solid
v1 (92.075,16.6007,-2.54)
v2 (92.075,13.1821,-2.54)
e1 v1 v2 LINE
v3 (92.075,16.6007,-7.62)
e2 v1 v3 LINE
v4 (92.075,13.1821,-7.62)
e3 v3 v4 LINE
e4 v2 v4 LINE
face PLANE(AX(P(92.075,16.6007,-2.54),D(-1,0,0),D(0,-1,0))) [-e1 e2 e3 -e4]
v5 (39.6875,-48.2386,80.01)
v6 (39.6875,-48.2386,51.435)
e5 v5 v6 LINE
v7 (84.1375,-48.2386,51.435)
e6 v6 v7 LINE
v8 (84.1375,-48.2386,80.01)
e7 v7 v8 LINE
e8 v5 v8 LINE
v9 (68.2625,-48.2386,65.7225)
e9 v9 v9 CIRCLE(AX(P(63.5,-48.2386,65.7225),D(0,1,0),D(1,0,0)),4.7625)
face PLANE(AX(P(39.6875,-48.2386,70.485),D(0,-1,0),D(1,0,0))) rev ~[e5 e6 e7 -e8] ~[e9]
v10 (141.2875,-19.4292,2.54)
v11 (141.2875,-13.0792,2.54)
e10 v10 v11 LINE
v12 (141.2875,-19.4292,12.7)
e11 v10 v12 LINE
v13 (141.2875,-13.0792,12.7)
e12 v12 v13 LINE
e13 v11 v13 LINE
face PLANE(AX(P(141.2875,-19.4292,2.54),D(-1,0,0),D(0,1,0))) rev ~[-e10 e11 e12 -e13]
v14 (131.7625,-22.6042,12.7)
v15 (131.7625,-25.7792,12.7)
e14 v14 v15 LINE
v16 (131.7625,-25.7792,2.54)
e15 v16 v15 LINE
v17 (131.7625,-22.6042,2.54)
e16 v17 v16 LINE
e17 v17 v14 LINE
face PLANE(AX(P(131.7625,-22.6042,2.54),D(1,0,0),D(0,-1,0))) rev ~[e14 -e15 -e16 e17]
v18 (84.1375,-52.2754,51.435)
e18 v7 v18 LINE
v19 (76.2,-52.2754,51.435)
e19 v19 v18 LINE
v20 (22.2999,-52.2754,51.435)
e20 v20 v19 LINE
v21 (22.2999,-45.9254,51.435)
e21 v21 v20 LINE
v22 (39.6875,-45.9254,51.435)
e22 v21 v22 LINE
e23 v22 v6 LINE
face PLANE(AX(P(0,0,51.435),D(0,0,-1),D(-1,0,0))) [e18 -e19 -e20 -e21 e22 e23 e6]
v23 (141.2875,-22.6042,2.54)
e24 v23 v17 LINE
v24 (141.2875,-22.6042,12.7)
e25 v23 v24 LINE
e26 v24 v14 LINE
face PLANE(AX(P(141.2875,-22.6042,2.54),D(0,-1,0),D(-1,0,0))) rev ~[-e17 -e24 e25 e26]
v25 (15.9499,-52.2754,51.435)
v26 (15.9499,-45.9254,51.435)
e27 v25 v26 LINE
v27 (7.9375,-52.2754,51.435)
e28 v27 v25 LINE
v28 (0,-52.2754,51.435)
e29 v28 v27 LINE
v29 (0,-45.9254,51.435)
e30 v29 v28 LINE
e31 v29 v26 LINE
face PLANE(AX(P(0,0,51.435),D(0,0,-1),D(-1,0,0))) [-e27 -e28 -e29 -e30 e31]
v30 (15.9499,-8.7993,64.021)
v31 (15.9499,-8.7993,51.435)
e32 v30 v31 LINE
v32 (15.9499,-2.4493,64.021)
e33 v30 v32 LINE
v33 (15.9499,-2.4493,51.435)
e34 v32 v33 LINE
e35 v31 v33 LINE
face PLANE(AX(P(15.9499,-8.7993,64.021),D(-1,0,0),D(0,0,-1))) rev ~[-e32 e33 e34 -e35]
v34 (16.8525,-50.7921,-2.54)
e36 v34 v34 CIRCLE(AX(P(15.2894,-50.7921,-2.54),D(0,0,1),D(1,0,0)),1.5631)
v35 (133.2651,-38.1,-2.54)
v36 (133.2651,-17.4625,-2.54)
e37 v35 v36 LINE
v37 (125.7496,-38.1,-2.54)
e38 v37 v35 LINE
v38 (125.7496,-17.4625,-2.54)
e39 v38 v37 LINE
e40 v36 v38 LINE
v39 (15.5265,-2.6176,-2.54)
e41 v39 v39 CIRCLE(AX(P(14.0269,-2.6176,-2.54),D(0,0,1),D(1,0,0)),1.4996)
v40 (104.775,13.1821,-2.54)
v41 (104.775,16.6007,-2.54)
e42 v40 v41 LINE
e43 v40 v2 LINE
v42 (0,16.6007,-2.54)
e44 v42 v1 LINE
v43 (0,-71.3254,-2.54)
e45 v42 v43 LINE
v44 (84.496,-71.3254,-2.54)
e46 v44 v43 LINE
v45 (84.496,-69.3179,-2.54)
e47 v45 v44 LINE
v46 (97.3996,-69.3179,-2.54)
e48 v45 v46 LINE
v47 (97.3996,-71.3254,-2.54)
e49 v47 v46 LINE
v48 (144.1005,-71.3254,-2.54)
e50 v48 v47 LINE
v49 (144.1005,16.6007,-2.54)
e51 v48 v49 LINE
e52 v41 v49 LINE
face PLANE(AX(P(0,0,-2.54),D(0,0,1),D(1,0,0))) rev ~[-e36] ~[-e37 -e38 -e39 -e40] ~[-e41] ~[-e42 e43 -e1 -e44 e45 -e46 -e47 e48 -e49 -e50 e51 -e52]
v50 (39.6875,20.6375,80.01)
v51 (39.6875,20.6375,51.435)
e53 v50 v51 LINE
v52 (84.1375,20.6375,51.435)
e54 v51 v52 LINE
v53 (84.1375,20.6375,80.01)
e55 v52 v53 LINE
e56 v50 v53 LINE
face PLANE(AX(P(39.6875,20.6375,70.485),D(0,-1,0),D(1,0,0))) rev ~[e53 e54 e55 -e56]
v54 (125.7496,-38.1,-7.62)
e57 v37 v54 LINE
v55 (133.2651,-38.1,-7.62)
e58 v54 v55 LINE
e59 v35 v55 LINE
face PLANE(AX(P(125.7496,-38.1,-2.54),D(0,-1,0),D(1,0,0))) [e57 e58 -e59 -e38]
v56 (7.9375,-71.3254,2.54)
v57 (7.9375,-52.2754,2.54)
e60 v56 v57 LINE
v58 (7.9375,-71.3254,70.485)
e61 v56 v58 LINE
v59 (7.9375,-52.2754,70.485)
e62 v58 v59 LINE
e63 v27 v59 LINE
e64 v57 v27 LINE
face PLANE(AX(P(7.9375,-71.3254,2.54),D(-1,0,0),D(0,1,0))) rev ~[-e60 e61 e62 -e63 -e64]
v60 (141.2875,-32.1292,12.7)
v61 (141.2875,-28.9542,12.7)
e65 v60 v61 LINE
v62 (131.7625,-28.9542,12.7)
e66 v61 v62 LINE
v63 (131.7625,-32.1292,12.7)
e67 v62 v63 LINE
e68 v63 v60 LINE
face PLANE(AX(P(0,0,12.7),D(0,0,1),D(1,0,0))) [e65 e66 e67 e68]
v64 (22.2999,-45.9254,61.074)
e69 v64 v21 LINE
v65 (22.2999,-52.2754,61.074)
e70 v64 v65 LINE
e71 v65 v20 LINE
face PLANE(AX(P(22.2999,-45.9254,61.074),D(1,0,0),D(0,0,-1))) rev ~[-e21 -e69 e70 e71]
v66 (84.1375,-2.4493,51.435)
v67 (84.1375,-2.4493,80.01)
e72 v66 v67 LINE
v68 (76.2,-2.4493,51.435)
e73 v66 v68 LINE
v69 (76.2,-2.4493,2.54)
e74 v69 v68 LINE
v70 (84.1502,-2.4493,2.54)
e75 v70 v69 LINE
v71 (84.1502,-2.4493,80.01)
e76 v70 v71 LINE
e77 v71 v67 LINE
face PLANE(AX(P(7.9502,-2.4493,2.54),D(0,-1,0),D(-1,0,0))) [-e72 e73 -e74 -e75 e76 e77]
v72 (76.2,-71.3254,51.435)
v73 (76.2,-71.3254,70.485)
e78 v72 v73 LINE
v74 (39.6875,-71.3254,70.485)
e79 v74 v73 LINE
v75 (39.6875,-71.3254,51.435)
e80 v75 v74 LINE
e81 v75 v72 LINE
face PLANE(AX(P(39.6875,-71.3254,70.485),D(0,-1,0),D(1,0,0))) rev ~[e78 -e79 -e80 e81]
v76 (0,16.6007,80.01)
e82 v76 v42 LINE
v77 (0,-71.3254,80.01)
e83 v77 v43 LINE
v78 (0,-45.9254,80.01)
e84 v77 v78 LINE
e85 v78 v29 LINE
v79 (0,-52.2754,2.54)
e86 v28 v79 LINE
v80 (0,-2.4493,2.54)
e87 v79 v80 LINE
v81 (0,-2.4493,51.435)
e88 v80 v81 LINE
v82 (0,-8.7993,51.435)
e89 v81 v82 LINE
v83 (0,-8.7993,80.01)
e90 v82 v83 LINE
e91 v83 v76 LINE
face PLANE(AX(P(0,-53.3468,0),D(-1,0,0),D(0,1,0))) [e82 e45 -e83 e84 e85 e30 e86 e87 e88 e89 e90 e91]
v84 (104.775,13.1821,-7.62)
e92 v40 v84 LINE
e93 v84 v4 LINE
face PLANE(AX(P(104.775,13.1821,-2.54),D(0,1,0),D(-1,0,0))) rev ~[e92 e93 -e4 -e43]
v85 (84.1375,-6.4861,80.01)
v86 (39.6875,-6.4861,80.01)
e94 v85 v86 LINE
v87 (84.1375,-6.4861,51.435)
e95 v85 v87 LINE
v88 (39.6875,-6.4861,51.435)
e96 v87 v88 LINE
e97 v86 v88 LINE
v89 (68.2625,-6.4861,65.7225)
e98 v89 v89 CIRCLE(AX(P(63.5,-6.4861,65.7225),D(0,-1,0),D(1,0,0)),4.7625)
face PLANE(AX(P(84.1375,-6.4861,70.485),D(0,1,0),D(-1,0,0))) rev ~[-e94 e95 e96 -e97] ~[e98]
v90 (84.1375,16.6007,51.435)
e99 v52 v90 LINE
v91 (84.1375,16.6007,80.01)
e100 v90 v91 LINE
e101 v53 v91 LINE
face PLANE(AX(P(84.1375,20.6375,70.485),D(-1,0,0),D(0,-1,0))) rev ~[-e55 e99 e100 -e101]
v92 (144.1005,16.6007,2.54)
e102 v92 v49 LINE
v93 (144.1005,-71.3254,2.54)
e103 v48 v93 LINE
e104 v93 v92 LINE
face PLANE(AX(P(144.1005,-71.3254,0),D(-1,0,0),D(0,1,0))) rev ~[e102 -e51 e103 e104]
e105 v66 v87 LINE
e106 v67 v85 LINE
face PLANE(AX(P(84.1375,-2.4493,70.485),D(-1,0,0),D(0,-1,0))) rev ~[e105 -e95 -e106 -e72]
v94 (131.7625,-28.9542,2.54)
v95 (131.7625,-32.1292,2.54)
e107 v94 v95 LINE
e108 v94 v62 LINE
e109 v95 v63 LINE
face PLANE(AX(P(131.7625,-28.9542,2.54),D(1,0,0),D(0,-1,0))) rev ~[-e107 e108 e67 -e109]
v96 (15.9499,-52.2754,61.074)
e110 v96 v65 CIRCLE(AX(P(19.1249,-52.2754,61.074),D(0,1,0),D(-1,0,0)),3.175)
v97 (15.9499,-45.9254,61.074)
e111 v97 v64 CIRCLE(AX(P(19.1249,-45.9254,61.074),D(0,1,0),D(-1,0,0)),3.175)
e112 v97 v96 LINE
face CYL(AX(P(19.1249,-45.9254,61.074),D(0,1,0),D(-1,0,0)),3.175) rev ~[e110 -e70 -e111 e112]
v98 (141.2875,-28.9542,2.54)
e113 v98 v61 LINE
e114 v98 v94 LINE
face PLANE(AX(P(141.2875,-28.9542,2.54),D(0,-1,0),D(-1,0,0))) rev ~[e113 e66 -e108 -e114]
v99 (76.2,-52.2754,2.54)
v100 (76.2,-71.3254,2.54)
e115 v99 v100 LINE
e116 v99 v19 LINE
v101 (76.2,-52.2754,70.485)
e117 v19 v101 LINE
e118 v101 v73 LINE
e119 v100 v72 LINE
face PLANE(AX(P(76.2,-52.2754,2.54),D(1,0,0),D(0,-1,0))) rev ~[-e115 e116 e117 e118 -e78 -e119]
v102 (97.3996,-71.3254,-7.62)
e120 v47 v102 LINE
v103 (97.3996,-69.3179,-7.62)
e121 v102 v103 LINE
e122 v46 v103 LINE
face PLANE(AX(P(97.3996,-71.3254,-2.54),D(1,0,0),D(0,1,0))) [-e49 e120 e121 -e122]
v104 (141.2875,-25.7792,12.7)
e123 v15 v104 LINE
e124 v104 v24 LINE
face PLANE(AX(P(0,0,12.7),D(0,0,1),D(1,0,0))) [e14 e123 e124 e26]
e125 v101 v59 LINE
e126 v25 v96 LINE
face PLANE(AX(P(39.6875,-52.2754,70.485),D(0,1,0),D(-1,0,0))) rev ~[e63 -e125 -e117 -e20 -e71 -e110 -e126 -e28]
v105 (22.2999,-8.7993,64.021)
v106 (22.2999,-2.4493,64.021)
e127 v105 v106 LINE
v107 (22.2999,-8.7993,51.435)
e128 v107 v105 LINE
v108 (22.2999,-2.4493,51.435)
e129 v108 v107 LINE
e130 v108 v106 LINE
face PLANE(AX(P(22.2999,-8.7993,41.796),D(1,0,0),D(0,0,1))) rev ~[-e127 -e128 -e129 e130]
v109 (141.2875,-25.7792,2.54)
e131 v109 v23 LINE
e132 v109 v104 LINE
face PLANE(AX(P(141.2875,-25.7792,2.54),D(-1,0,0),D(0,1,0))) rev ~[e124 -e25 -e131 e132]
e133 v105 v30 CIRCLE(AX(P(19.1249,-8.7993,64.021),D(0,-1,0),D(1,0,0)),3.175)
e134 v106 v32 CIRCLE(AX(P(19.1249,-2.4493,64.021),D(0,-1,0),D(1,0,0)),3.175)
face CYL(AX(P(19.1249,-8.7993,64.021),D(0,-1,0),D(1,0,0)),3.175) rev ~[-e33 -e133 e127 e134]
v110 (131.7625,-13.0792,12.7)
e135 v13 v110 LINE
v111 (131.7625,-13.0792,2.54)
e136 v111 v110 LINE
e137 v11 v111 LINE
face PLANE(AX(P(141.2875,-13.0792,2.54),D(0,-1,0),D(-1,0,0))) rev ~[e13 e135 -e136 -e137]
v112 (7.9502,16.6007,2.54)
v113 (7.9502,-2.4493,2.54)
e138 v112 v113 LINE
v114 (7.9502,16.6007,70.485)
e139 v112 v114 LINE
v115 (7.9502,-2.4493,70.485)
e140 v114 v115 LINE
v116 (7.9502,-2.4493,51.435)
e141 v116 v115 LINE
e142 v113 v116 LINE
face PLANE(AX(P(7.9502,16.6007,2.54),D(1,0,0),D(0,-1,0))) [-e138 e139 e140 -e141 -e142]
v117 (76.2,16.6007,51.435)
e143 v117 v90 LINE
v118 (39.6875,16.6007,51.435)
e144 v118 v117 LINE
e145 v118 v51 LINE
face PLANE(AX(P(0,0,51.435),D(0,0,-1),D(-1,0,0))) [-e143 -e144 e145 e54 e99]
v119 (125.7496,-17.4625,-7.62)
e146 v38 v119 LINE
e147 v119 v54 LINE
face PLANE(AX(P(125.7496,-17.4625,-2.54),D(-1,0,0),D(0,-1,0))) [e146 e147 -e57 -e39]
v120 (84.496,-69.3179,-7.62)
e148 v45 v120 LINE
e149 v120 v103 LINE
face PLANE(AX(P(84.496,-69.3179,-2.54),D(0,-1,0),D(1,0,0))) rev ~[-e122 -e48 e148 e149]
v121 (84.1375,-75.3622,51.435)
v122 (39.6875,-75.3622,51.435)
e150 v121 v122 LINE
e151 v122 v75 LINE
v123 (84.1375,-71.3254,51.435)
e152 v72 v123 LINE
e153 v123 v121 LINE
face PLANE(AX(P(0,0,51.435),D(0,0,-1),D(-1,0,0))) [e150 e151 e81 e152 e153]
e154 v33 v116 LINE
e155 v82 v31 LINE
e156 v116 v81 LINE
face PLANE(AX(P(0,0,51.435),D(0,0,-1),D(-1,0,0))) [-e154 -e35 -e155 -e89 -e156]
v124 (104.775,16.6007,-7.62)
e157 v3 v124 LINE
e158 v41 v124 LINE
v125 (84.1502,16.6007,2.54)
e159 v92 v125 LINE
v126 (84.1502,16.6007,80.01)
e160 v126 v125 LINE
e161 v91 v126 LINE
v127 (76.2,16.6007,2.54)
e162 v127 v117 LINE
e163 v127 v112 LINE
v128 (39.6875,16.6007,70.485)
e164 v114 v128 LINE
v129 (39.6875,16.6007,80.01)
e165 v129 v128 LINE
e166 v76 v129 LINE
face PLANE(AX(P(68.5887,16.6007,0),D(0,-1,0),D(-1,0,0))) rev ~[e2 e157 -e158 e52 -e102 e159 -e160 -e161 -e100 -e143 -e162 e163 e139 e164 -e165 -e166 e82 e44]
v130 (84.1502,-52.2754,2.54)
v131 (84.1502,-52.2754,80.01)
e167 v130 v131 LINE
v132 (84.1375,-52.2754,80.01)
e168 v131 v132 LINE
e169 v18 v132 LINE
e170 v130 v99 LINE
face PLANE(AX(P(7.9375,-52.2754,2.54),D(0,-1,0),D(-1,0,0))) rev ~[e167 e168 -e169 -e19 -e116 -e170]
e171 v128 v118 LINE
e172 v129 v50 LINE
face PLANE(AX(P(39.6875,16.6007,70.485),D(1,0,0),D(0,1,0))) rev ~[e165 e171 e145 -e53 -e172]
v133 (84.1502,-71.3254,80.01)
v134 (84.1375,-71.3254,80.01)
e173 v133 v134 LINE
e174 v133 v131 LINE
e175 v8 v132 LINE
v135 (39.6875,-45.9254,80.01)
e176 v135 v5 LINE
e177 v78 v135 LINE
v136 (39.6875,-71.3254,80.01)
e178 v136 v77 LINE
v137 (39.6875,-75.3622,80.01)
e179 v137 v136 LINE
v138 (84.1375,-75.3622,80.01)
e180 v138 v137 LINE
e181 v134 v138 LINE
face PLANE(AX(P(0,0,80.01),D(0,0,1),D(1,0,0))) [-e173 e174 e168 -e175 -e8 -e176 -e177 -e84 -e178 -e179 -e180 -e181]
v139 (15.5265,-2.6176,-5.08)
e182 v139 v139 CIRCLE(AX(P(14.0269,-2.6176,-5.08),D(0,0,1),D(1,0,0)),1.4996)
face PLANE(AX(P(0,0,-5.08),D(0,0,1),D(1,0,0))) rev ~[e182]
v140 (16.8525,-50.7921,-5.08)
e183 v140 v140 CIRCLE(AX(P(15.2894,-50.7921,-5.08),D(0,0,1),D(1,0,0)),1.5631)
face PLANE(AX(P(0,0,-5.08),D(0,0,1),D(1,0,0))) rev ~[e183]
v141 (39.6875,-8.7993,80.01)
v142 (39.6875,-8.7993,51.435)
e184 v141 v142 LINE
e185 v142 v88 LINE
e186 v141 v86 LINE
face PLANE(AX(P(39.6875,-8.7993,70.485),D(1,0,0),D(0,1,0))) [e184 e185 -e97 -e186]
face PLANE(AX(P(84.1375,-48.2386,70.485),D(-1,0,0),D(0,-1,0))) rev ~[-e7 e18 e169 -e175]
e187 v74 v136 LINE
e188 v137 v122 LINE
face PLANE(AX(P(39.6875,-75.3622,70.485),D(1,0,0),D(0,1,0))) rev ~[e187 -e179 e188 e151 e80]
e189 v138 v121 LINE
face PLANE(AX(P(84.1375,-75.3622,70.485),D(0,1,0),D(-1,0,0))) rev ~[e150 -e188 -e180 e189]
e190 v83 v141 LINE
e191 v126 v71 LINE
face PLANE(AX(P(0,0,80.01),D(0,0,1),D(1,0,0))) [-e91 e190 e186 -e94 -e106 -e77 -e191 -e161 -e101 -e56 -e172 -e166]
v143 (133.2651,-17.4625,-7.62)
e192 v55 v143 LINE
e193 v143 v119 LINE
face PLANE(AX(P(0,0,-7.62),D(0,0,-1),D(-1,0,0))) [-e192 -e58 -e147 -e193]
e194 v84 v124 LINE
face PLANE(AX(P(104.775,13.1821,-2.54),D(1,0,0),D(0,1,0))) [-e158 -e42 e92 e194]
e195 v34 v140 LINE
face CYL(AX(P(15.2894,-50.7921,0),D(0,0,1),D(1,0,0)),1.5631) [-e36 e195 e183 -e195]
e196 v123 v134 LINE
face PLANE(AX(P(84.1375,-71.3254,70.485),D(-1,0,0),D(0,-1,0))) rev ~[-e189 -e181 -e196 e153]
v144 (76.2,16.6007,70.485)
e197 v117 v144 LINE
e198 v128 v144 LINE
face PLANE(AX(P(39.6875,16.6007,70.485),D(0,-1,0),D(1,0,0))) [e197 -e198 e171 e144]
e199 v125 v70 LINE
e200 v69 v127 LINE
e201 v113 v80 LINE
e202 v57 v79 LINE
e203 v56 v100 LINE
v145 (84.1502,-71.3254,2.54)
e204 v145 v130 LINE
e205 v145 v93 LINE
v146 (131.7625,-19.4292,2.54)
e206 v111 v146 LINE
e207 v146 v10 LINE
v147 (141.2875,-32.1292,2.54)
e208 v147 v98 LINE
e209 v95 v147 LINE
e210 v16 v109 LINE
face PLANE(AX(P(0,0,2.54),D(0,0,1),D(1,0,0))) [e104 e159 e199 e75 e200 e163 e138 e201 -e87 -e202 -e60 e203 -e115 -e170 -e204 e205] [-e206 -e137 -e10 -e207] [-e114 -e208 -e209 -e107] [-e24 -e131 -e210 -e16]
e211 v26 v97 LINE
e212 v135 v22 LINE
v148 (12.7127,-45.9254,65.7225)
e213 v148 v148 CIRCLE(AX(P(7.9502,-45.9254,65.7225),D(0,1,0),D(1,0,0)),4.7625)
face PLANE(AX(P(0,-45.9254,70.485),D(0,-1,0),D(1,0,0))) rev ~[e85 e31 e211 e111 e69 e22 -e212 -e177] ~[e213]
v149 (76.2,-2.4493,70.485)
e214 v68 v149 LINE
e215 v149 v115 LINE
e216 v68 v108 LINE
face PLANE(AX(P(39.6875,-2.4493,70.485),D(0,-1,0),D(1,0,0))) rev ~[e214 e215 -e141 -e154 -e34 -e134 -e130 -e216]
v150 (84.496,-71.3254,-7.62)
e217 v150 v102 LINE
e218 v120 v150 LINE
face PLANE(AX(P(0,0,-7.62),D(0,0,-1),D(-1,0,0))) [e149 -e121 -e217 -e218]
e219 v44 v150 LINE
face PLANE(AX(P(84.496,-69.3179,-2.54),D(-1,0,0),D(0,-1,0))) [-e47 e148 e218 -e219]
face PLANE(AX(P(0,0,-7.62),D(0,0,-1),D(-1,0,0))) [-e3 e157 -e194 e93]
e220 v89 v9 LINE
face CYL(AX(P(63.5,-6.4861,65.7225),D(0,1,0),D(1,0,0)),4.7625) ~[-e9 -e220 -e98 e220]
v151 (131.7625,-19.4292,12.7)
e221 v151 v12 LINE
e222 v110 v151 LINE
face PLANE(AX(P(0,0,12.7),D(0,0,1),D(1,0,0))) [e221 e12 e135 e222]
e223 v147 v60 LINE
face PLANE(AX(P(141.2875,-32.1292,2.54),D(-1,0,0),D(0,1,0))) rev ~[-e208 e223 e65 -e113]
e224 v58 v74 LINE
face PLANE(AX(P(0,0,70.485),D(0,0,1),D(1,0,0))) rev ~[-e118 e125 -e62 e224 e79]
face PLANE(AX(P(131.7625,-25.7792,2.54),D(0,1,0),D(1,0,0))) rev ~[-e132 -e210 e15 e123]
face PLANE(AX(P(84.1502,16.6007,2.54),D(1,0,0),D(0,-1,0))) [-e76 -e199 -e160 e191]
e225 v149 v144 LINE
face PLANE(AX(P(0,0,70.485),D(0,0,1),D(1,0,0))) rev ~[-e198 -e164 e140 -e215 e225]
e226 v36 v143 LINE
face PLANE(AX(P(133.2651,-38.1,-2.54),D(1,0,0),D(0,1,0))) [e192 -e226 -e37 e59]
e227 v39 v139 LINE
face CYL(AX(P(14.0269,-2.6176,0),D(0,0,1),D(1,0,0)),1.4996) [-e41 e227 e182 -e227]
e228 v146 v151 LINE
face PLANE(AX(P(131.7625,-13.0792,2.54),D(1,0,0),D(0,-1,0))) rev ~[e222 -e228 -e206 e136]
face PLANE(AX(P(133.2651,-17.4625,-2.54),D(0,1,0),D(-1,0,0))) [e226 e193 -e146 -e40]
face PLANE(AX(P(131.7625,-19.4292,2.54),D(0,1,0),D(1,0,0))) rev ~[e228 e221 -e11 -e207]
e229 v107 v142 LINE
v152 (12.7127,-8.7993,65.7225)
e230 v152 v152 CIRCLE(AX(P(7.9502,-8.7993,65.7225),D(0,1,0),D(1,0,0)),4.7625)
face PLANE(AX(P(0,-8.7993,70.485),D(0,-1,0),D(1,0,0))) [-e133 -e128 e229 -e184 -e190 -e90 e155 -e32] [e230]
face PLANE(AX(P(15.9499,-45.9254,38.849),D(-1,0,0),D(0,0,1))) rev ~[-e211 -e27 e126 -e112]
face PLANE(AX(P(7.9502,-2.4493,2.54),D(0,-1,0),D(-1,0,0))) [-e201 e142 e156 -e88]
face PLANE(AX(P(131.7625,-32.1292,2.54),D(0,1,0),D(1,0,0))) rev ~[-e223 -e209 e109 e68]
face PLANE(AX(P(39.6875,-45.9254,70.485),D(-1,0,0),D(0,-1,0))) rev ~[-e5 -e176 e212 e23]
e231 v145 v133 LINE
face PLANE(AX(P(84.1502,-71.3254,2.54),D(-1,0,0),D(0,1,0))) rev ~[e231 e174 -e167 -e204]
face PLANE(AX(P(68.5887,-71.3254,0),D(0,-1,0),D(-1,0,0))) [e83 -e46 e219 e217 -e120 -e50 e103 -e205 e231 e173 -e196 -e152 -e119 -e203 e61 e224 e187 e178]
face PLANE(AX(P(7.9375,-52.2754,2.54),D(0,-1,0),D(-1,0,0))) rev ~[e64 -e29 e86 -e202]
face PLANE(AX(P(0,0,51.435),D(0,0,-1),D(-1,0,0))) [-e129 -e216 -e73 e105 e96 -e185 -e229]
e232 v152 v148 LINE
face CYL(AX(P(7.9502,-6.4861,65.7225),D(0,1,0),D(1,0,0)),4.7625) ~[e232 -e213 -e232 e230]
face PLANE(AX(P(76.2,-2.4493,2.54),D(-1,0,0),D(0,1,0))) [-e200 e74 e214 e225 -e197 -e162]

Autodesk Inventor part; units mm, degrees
ref_plane "YZ Plane" through (0, 0, 0) normal (1, 0, 0) x (0, 1, 0)
ref_plane "XZ Plane" through (0, 0, 0) normal (0, 1, 0) x (-1, 0, 0)
ref_plane "XY Plane" through (0, 0, 0) normal (0, 0, 1) x (1, 0, 0)
sketch "Sketch1" plane through (0, 0, 0) normal (0, 0, 1) x (1, 0, 0)
  line L0 (0, -53.3468) -> (0, -11.9835) projected
  line L1 (68.5887, -53.3468) -> (0, -53.3468) projected
  line L2 (68.5887, 0) -> (68.5887, -53.3468) projected
  line L3 (0, 0) -> (68.5887, 0) projected
  line L4 (0, -2.1686) -> (0, 0) projected
  line L5 (0, -11.9835) -> (0, -2.1686) projected
  circle A0 centre (15.2894, -50.7921) radius 1.5631 projected
  circle A1 centre (14.0269, -2.6176) radius 1.4996 projected
  line L6 (0, 0) -> (68.5887, 0)
  line L7 (68.5887, 0) -> (68.5887, -53.3468)
  line L8 (68.5887, -53.3468) -> (0, -53.3468)
  line L9 (0, -53.3468) -> (0, 0)
  circle A2 centre (14.0269, -2.6176) radius 1.4996
  circle A3 centre (15.2894, -50.7921) radius 1.5631
extrude "Extrusion1" add sketch "Sketch1" against normal blind 5.08 contours A0 | A1
ref_plane "Work Plane1" through (0, 0, 0) normal (0, 0, 1) x (1, 0, 0)
sketch "Sketch2" plane through (0, 0, 0) normal (0, 0, 1) x (1, 0, 0)
  line L0 (0, -53.3468) -> (0, -11.9835) projected
  line L1 (68.5887, 0) -> (68.5887, -53.3468) projected
  line L2 (0, -2.1686) -> (0, 0) projected
  line L3 (0, 0) -> (0, -53.3468)
  line L4 (68.5887, -53.3468) -> (68.5887, 0)
  line L5 (68.5887, -71.3254) -> (144.1005, -71.3254)
  line L6 (144.1005, -71.3254) -> (144.1005, 16.6007)
  line L7 (144.1005, 16.6007) -> (68.5887, 16.6007)
  line L8 (68.5887, 16.6007) -> (68.5887, -71.3254)
  line L9 (68.5887, 16.6007) -> (0, 16.6007)
  line L10 (0, 16.6007) -> (0, 0)
  line L11 (68.5887, -71.3254) -> (0, -71.3254)
  line L12 (0, -71.3254) -> (0, -53.3468)
extrude "Extrusion2" add sketch "Sketch2" along normal mid plane 5.08
sketch "Sketch3" plane through (0, 0, -2.54) normal (0, 0, -1) x (-1, 0, 0)
  line L0 (-125.7496, -4.4471) -> (-125.7496, -55.0115) projected
  line L1 (0, -71.3254) -> (-144.1005, -71.3254) projected
  line L2 (-125.7496, -38.1) -> (-133.2651, -38.1)
  line L3 (-133.2651, -38.1) -> (-133.2651, -17.4625)
  line L4 (-133.2651, -17.4625) -> (-125.7496, -17.4625)
  line L5 (-125.7496, -17.4625) -> (-125.7496, -38.1)
  line L6 (-125.7462, 13.1821) -> (-71.1251, 13.1821)
  line L7 (0, 16.6007) -> (-144.1005, 16.6007) projected
  line L8 (-92.075, 13.1821) -> (-104.775, 13.1821)
  line L9 (-104.775, 13.1821) -> (-104.775, 16.6007)
  line L10 (-104.775, 16.6007) -> (-92.075, 16.6007)
  line L11 (-92.075, 16.6007) -> (-92.075, 13.1821)
  line L12 (-80.6496, -69.3179) -> (-97.3996, -69.3179)
  line L13 (-144.1005, -71.3254) -> (0, -71.3254) projected
  line L14 (-97.3996, -69.3179) -> (-84.496, -69.3179)
  line L15 (-84.496, -69.3179) -> (-84.496, -71.3254)
  line L16 (-84.496, -71.3254) -> (-97.3996, -71.3254)
  line L17 (-97.3996, -71.3254) -> (-97.3996, -69.3179)
  point P0 (0, 0)
  point P1 (-68.5887, -71.3254)
  point P2 (-68.5887, 16.6007)
extrude "Extrusion3" add sketch "Sketch3" along normal blind 5.08
sketch "Sketch9" plane through (0, 0, 2.54) normal (0, 0, 1) x (1, 0, 0)
  line L0 (0, -71.3254) -> (7.9375, -71.3254)
  line L1 (7.9375, -71.3254) -> (7.9375, -52.2754)
  line L2 (7.9375, -52.2754) -> (0, -52.2754)
  line L3 (0, -52.2754) -> (0, -71.3254)
  line L4 (0, 16.6007) -> (7.9502, 16.6007)
  line L5 (7.9502, 16.6007) -> (7.9502, -2.4493)
  line L6 (7.9502, -2.4493) -> (0, -2.4493)
  line L7 (0, -2.4493) -> (0, 16.6007)
  line L8 (76.2, -71.3254) -> (84.1502, -71.3254)
  line L9 (84.1502, -71.3254) -> (84.1502, -52.2754)
  line L10 (84.1502, -52.2754) -> (76.2, -52.2754)
  line L11 (76.2, -52.2754) -> (76.2, -71.3254)
  line L12 (76.2, 16.6007) -> (84.1502, 16.6007)
  line L13 (84.1502, 16.6007) -> (84.1502, -2.4493)
  line L14 (84.1502, -2.4493) -> (76.2, -2.4493)
  line L15 (76.2, -2.4493) -> (76.2, 16.6007)
  line L16 (144.1005, 16.6007) -> (0, 16.6007) projected
  line L17 (0, -71.3254) -> (144.1005, -71.3254) projected
  point P0 (0, 0)
  dimension "d19" = 7.9502
  dimension "d20" = 19.05
  dimension "d21" = 7.9502
  dimension "d22" = 19.05
  dimension "d23" = 7.9502
  dimension "d24" = 19.05
  dimension "d41" = 19.05
extrude "Extrusion7" add sketch "Sketch9" along normal blind 67.945
sketch "Sketch10" plane through (0, 0, 2.54) normal (0, 0, 1) x (1, 0, 0)
  line L0 (141.2875, -13.0792) -> (131.7625, -13.0792)
  line L1 (131.7625, -13.0792) -> (131.7625, -19.4292)
  line L2 (131.7625, -19.4292) -> (141.2875, -19.4292)
  line L3 (141.2875, -19.4292) -> (141.2875, -13.0792)
  line L4 (141.2875, -22.6042) -> (131.7625, -22.6042)
  line L5 (131.7625, -22.6042) -> (131.7625, -25.7792)
  line L6 (131.7625, -25.7792) -> (141.2875, -25.7792)
  line L7 (141.2875, -25.7792) -> (141.2875, -22.6042)
  line L8 (141.2875, -28.9542) -> (131.7625, -28.9542)
  line L9 (131.7625, -28.9542) -> (131.7625, -32.1292)
  line L10 (131.7625, -32.1292) -> (141.2875, -32.1292)
  line L11 (141.2875, -32.1292) -> (141.2875, -28.9542)
  line L12 (144.1005, 16.6007) -> (84.1502, 16.6007) projected
  line L13 (84.1502, -71.3254) -> (144.1005, -71.3254) projected
  line L14 (90.4875, -27.3667) -> (109.5375, -27.3667)
  point P0 (0, 0)
  dimension "d30" = 3.175
  dimension "d31" = 3.175
  dimension "d32" = 3.175
  dimension "d33" = 3.175
  dimension "d39" = 6.35
  dimension "d70" = 43.9674
extrude "Extrusion8" add sketch "Sketch10" along normal blind 10.16
sketch "Sketch11" plane through (0, 0, 70.485) normal (0, 0, 1) x (1, 0, 0)
  line L0 (0, 16.6007) -> (84.1502, 16.6007)
  line L1 (84.1502, 16.6007) -> (84.1502, -2.4493)
  line L2 (84.1502, -2.4493) -> (0, -2.4493)
  line L3 (0, -2.4493) -> (0, 16.6007)
  line L4 (0, -71.3254) -> (7.9375, -71.3254) projected
  line L5 (0, -71.3254) -> (84.1502, -71.3254)
  line L6 (84.1502, -71.3254) -> (84.1502, -52.2754)
  line L7 (84.1502, -52.2754) -> (0, -52.2754)
  line L8 (0, -52.2754) -> (0, -71.3254)
  point P0 (0, 0)
  dimension "d44" = 19.05
  dimension "d45" = 19.05
extrude "Extrusion9" add sketch "Sketch11" along normal blind 9.525
sketch "Sketch12" plane through (0, 0, 70.485) normal (0, 0, -1) x (-1, 0, 0)
  line L0 (0, 16.6007) -> (-92.075, 16.6007) projected
  line L1 (-84.1375, 16.6007) -> (-39.6875, 16.6007)
  line L2 (-39.6875, 16.6007) -> (-39.6875, 20.6375)
  line L3 (-39.6875, 20.6375) -> (-84.1375, 20.6375)
  line L4 (-84.1375, 20.6375) -> (-84.1375, 16.6007)
  line L5 (-84.1375, -6.4861) -> (-39.6875, -6.4861)
  line L6 (-39.6875, -6.4861) -> (-39.6875, -2.4493)
  line L7 (-39.6875, -2.4493) -> (-84.1375, -2.4493)
  line L8 (-84.1375, -2.4493) -> (-84.1375, -6.4861)
  line L9 (-84.1375, -52.2754) -> (-39.6875, -52.2754)
  line L10 (-39.6875, -52.2754) -> (-39.6875, -48.2386)
  line L11 (-39.6875, -48.2386) -> (-84.1375, -48.2386)
  line L12 (-84.1375, -48.2386) -> (-84.1375, -52.2754)
  line L13 (-84.1375, -75.3622) -> (-39.6875, -75.3622)
  line L14 (-39.6875, -75.3622) -> (-39.6875, -71.3254)
  line L15 (-39.6875, -71.3254) -> (-84.1375, -71.3254)
  line L16 (-84.1375, -71.3254) -> (-84.1375, -75.3622)
  line L17 (0, -2.4493) -> (-84.1502, -2.4493) projected
  line L18 (-84.1502, -52.2754) -> (0, -52.2754) projected
  line L19 (0, -71.3254) -> (-84.1502, -71.3254) projected
  line L20 (0, -2.4493) -> (0, -52.2754) projected
  line L21 (-39.6875, -52.2754) -> (0, -52.2754)
  line L22 (0, -52.2754) -> (0, -45.9254)
  line L23 (0, -45.9254) -> (-39.6875, -45.9254)
  line L24 (-39.6875, -45.9254) -> (-39.6875, -52.2754)
  line L25 (-39.6875, -2.4493) -> (0, -2.4493)
  line L26 (0, -2.4493) -> (0, -8.7993)
  line L27 (0, -8.7993) -> (-39.6875, -8.7993)
  line L28 (-39.6875, -8.7993) -> (-39.6875, -2.4493)
  point P0 (0, 0)
  dimension "d46" = 4.0368
  dimension "d53" = 44.45
  dimension "d54" = 6.35
  dimension "d55" = 6.35
extrude "Extrusion10" add sketch "Sketch12" along normal blind 19.05 and the other way blind 9.525
sketch "Sketch13" plane through (0, -45.9254, 51.435) normal (0, 1, 0) x (1, 0, 0)
  line L0 (19.1249, 12.586) -> (19.1249, -9.639) construction
  line L1 (15.9499, 12.586) -> (15.9499, -9.639)
  line L2 (22.2999, -9.639) -> (22.2999, 12.586)
  arc A0 (22.2999, 12.586) -> (15.9499, 12.586) centre (19.1249, 12.586) ccw
  arc A1 (15.9499, -9.639) -> (22.2999, -9.639) centre (19.1249, -9.639) ccw
  point P0 (0, 51.435)
  point P1 (19.1249, 1.4735)
extrude "Extrusion11" cut sketch "Sketch13" against normal blind 8.255
sketch "Sketch14" plane through (0, -8.7993, 51.435) normal (0, -1, 0) x (1, 0, 0)
  line L0 (19.1249, 12.586) -> (19.1249, -9.639) construction
  line L1 (15.9499, 12.586) -> (15.9499, -9.639)
  line L2 (22.2999, -9.639) -> (22.2999, 12.586)
  arc A0 (22.2999, 12.586) -> (15.9499, 12.586) centre (19.1249, 12.586) ccw
  arc A1 (15.9499, -9.639) -> (22.2999, -9.639) centre (19.1249, -9.639) ccw
  point P0 (0, 51.435)
  point P1 (19.1249, 1.4735)
extrude "Extrusion12" cut sketch "Sketch14" against normal blind 8.255
sketch "Sketch15" plane through (39.6875, -6.4861, 51.435) normal (0, -1, 0) x (1, 0, 0)
  circle A0 centre (23.8125, 14.2875) radius 4.7625
  line L0 (-31.7373, -48.895) -> (-31.7373, 19.05) projected
  circle A1 centre (-31.7373, 14.2875) radius 4.7625
  point P0 (-39.6875, -51.435)
  dimension "d64" = 9.525
extrude "Extrusion13" add sketch "Sketch15" along normal blind 44.45
properties part number "RC_Chassis"
